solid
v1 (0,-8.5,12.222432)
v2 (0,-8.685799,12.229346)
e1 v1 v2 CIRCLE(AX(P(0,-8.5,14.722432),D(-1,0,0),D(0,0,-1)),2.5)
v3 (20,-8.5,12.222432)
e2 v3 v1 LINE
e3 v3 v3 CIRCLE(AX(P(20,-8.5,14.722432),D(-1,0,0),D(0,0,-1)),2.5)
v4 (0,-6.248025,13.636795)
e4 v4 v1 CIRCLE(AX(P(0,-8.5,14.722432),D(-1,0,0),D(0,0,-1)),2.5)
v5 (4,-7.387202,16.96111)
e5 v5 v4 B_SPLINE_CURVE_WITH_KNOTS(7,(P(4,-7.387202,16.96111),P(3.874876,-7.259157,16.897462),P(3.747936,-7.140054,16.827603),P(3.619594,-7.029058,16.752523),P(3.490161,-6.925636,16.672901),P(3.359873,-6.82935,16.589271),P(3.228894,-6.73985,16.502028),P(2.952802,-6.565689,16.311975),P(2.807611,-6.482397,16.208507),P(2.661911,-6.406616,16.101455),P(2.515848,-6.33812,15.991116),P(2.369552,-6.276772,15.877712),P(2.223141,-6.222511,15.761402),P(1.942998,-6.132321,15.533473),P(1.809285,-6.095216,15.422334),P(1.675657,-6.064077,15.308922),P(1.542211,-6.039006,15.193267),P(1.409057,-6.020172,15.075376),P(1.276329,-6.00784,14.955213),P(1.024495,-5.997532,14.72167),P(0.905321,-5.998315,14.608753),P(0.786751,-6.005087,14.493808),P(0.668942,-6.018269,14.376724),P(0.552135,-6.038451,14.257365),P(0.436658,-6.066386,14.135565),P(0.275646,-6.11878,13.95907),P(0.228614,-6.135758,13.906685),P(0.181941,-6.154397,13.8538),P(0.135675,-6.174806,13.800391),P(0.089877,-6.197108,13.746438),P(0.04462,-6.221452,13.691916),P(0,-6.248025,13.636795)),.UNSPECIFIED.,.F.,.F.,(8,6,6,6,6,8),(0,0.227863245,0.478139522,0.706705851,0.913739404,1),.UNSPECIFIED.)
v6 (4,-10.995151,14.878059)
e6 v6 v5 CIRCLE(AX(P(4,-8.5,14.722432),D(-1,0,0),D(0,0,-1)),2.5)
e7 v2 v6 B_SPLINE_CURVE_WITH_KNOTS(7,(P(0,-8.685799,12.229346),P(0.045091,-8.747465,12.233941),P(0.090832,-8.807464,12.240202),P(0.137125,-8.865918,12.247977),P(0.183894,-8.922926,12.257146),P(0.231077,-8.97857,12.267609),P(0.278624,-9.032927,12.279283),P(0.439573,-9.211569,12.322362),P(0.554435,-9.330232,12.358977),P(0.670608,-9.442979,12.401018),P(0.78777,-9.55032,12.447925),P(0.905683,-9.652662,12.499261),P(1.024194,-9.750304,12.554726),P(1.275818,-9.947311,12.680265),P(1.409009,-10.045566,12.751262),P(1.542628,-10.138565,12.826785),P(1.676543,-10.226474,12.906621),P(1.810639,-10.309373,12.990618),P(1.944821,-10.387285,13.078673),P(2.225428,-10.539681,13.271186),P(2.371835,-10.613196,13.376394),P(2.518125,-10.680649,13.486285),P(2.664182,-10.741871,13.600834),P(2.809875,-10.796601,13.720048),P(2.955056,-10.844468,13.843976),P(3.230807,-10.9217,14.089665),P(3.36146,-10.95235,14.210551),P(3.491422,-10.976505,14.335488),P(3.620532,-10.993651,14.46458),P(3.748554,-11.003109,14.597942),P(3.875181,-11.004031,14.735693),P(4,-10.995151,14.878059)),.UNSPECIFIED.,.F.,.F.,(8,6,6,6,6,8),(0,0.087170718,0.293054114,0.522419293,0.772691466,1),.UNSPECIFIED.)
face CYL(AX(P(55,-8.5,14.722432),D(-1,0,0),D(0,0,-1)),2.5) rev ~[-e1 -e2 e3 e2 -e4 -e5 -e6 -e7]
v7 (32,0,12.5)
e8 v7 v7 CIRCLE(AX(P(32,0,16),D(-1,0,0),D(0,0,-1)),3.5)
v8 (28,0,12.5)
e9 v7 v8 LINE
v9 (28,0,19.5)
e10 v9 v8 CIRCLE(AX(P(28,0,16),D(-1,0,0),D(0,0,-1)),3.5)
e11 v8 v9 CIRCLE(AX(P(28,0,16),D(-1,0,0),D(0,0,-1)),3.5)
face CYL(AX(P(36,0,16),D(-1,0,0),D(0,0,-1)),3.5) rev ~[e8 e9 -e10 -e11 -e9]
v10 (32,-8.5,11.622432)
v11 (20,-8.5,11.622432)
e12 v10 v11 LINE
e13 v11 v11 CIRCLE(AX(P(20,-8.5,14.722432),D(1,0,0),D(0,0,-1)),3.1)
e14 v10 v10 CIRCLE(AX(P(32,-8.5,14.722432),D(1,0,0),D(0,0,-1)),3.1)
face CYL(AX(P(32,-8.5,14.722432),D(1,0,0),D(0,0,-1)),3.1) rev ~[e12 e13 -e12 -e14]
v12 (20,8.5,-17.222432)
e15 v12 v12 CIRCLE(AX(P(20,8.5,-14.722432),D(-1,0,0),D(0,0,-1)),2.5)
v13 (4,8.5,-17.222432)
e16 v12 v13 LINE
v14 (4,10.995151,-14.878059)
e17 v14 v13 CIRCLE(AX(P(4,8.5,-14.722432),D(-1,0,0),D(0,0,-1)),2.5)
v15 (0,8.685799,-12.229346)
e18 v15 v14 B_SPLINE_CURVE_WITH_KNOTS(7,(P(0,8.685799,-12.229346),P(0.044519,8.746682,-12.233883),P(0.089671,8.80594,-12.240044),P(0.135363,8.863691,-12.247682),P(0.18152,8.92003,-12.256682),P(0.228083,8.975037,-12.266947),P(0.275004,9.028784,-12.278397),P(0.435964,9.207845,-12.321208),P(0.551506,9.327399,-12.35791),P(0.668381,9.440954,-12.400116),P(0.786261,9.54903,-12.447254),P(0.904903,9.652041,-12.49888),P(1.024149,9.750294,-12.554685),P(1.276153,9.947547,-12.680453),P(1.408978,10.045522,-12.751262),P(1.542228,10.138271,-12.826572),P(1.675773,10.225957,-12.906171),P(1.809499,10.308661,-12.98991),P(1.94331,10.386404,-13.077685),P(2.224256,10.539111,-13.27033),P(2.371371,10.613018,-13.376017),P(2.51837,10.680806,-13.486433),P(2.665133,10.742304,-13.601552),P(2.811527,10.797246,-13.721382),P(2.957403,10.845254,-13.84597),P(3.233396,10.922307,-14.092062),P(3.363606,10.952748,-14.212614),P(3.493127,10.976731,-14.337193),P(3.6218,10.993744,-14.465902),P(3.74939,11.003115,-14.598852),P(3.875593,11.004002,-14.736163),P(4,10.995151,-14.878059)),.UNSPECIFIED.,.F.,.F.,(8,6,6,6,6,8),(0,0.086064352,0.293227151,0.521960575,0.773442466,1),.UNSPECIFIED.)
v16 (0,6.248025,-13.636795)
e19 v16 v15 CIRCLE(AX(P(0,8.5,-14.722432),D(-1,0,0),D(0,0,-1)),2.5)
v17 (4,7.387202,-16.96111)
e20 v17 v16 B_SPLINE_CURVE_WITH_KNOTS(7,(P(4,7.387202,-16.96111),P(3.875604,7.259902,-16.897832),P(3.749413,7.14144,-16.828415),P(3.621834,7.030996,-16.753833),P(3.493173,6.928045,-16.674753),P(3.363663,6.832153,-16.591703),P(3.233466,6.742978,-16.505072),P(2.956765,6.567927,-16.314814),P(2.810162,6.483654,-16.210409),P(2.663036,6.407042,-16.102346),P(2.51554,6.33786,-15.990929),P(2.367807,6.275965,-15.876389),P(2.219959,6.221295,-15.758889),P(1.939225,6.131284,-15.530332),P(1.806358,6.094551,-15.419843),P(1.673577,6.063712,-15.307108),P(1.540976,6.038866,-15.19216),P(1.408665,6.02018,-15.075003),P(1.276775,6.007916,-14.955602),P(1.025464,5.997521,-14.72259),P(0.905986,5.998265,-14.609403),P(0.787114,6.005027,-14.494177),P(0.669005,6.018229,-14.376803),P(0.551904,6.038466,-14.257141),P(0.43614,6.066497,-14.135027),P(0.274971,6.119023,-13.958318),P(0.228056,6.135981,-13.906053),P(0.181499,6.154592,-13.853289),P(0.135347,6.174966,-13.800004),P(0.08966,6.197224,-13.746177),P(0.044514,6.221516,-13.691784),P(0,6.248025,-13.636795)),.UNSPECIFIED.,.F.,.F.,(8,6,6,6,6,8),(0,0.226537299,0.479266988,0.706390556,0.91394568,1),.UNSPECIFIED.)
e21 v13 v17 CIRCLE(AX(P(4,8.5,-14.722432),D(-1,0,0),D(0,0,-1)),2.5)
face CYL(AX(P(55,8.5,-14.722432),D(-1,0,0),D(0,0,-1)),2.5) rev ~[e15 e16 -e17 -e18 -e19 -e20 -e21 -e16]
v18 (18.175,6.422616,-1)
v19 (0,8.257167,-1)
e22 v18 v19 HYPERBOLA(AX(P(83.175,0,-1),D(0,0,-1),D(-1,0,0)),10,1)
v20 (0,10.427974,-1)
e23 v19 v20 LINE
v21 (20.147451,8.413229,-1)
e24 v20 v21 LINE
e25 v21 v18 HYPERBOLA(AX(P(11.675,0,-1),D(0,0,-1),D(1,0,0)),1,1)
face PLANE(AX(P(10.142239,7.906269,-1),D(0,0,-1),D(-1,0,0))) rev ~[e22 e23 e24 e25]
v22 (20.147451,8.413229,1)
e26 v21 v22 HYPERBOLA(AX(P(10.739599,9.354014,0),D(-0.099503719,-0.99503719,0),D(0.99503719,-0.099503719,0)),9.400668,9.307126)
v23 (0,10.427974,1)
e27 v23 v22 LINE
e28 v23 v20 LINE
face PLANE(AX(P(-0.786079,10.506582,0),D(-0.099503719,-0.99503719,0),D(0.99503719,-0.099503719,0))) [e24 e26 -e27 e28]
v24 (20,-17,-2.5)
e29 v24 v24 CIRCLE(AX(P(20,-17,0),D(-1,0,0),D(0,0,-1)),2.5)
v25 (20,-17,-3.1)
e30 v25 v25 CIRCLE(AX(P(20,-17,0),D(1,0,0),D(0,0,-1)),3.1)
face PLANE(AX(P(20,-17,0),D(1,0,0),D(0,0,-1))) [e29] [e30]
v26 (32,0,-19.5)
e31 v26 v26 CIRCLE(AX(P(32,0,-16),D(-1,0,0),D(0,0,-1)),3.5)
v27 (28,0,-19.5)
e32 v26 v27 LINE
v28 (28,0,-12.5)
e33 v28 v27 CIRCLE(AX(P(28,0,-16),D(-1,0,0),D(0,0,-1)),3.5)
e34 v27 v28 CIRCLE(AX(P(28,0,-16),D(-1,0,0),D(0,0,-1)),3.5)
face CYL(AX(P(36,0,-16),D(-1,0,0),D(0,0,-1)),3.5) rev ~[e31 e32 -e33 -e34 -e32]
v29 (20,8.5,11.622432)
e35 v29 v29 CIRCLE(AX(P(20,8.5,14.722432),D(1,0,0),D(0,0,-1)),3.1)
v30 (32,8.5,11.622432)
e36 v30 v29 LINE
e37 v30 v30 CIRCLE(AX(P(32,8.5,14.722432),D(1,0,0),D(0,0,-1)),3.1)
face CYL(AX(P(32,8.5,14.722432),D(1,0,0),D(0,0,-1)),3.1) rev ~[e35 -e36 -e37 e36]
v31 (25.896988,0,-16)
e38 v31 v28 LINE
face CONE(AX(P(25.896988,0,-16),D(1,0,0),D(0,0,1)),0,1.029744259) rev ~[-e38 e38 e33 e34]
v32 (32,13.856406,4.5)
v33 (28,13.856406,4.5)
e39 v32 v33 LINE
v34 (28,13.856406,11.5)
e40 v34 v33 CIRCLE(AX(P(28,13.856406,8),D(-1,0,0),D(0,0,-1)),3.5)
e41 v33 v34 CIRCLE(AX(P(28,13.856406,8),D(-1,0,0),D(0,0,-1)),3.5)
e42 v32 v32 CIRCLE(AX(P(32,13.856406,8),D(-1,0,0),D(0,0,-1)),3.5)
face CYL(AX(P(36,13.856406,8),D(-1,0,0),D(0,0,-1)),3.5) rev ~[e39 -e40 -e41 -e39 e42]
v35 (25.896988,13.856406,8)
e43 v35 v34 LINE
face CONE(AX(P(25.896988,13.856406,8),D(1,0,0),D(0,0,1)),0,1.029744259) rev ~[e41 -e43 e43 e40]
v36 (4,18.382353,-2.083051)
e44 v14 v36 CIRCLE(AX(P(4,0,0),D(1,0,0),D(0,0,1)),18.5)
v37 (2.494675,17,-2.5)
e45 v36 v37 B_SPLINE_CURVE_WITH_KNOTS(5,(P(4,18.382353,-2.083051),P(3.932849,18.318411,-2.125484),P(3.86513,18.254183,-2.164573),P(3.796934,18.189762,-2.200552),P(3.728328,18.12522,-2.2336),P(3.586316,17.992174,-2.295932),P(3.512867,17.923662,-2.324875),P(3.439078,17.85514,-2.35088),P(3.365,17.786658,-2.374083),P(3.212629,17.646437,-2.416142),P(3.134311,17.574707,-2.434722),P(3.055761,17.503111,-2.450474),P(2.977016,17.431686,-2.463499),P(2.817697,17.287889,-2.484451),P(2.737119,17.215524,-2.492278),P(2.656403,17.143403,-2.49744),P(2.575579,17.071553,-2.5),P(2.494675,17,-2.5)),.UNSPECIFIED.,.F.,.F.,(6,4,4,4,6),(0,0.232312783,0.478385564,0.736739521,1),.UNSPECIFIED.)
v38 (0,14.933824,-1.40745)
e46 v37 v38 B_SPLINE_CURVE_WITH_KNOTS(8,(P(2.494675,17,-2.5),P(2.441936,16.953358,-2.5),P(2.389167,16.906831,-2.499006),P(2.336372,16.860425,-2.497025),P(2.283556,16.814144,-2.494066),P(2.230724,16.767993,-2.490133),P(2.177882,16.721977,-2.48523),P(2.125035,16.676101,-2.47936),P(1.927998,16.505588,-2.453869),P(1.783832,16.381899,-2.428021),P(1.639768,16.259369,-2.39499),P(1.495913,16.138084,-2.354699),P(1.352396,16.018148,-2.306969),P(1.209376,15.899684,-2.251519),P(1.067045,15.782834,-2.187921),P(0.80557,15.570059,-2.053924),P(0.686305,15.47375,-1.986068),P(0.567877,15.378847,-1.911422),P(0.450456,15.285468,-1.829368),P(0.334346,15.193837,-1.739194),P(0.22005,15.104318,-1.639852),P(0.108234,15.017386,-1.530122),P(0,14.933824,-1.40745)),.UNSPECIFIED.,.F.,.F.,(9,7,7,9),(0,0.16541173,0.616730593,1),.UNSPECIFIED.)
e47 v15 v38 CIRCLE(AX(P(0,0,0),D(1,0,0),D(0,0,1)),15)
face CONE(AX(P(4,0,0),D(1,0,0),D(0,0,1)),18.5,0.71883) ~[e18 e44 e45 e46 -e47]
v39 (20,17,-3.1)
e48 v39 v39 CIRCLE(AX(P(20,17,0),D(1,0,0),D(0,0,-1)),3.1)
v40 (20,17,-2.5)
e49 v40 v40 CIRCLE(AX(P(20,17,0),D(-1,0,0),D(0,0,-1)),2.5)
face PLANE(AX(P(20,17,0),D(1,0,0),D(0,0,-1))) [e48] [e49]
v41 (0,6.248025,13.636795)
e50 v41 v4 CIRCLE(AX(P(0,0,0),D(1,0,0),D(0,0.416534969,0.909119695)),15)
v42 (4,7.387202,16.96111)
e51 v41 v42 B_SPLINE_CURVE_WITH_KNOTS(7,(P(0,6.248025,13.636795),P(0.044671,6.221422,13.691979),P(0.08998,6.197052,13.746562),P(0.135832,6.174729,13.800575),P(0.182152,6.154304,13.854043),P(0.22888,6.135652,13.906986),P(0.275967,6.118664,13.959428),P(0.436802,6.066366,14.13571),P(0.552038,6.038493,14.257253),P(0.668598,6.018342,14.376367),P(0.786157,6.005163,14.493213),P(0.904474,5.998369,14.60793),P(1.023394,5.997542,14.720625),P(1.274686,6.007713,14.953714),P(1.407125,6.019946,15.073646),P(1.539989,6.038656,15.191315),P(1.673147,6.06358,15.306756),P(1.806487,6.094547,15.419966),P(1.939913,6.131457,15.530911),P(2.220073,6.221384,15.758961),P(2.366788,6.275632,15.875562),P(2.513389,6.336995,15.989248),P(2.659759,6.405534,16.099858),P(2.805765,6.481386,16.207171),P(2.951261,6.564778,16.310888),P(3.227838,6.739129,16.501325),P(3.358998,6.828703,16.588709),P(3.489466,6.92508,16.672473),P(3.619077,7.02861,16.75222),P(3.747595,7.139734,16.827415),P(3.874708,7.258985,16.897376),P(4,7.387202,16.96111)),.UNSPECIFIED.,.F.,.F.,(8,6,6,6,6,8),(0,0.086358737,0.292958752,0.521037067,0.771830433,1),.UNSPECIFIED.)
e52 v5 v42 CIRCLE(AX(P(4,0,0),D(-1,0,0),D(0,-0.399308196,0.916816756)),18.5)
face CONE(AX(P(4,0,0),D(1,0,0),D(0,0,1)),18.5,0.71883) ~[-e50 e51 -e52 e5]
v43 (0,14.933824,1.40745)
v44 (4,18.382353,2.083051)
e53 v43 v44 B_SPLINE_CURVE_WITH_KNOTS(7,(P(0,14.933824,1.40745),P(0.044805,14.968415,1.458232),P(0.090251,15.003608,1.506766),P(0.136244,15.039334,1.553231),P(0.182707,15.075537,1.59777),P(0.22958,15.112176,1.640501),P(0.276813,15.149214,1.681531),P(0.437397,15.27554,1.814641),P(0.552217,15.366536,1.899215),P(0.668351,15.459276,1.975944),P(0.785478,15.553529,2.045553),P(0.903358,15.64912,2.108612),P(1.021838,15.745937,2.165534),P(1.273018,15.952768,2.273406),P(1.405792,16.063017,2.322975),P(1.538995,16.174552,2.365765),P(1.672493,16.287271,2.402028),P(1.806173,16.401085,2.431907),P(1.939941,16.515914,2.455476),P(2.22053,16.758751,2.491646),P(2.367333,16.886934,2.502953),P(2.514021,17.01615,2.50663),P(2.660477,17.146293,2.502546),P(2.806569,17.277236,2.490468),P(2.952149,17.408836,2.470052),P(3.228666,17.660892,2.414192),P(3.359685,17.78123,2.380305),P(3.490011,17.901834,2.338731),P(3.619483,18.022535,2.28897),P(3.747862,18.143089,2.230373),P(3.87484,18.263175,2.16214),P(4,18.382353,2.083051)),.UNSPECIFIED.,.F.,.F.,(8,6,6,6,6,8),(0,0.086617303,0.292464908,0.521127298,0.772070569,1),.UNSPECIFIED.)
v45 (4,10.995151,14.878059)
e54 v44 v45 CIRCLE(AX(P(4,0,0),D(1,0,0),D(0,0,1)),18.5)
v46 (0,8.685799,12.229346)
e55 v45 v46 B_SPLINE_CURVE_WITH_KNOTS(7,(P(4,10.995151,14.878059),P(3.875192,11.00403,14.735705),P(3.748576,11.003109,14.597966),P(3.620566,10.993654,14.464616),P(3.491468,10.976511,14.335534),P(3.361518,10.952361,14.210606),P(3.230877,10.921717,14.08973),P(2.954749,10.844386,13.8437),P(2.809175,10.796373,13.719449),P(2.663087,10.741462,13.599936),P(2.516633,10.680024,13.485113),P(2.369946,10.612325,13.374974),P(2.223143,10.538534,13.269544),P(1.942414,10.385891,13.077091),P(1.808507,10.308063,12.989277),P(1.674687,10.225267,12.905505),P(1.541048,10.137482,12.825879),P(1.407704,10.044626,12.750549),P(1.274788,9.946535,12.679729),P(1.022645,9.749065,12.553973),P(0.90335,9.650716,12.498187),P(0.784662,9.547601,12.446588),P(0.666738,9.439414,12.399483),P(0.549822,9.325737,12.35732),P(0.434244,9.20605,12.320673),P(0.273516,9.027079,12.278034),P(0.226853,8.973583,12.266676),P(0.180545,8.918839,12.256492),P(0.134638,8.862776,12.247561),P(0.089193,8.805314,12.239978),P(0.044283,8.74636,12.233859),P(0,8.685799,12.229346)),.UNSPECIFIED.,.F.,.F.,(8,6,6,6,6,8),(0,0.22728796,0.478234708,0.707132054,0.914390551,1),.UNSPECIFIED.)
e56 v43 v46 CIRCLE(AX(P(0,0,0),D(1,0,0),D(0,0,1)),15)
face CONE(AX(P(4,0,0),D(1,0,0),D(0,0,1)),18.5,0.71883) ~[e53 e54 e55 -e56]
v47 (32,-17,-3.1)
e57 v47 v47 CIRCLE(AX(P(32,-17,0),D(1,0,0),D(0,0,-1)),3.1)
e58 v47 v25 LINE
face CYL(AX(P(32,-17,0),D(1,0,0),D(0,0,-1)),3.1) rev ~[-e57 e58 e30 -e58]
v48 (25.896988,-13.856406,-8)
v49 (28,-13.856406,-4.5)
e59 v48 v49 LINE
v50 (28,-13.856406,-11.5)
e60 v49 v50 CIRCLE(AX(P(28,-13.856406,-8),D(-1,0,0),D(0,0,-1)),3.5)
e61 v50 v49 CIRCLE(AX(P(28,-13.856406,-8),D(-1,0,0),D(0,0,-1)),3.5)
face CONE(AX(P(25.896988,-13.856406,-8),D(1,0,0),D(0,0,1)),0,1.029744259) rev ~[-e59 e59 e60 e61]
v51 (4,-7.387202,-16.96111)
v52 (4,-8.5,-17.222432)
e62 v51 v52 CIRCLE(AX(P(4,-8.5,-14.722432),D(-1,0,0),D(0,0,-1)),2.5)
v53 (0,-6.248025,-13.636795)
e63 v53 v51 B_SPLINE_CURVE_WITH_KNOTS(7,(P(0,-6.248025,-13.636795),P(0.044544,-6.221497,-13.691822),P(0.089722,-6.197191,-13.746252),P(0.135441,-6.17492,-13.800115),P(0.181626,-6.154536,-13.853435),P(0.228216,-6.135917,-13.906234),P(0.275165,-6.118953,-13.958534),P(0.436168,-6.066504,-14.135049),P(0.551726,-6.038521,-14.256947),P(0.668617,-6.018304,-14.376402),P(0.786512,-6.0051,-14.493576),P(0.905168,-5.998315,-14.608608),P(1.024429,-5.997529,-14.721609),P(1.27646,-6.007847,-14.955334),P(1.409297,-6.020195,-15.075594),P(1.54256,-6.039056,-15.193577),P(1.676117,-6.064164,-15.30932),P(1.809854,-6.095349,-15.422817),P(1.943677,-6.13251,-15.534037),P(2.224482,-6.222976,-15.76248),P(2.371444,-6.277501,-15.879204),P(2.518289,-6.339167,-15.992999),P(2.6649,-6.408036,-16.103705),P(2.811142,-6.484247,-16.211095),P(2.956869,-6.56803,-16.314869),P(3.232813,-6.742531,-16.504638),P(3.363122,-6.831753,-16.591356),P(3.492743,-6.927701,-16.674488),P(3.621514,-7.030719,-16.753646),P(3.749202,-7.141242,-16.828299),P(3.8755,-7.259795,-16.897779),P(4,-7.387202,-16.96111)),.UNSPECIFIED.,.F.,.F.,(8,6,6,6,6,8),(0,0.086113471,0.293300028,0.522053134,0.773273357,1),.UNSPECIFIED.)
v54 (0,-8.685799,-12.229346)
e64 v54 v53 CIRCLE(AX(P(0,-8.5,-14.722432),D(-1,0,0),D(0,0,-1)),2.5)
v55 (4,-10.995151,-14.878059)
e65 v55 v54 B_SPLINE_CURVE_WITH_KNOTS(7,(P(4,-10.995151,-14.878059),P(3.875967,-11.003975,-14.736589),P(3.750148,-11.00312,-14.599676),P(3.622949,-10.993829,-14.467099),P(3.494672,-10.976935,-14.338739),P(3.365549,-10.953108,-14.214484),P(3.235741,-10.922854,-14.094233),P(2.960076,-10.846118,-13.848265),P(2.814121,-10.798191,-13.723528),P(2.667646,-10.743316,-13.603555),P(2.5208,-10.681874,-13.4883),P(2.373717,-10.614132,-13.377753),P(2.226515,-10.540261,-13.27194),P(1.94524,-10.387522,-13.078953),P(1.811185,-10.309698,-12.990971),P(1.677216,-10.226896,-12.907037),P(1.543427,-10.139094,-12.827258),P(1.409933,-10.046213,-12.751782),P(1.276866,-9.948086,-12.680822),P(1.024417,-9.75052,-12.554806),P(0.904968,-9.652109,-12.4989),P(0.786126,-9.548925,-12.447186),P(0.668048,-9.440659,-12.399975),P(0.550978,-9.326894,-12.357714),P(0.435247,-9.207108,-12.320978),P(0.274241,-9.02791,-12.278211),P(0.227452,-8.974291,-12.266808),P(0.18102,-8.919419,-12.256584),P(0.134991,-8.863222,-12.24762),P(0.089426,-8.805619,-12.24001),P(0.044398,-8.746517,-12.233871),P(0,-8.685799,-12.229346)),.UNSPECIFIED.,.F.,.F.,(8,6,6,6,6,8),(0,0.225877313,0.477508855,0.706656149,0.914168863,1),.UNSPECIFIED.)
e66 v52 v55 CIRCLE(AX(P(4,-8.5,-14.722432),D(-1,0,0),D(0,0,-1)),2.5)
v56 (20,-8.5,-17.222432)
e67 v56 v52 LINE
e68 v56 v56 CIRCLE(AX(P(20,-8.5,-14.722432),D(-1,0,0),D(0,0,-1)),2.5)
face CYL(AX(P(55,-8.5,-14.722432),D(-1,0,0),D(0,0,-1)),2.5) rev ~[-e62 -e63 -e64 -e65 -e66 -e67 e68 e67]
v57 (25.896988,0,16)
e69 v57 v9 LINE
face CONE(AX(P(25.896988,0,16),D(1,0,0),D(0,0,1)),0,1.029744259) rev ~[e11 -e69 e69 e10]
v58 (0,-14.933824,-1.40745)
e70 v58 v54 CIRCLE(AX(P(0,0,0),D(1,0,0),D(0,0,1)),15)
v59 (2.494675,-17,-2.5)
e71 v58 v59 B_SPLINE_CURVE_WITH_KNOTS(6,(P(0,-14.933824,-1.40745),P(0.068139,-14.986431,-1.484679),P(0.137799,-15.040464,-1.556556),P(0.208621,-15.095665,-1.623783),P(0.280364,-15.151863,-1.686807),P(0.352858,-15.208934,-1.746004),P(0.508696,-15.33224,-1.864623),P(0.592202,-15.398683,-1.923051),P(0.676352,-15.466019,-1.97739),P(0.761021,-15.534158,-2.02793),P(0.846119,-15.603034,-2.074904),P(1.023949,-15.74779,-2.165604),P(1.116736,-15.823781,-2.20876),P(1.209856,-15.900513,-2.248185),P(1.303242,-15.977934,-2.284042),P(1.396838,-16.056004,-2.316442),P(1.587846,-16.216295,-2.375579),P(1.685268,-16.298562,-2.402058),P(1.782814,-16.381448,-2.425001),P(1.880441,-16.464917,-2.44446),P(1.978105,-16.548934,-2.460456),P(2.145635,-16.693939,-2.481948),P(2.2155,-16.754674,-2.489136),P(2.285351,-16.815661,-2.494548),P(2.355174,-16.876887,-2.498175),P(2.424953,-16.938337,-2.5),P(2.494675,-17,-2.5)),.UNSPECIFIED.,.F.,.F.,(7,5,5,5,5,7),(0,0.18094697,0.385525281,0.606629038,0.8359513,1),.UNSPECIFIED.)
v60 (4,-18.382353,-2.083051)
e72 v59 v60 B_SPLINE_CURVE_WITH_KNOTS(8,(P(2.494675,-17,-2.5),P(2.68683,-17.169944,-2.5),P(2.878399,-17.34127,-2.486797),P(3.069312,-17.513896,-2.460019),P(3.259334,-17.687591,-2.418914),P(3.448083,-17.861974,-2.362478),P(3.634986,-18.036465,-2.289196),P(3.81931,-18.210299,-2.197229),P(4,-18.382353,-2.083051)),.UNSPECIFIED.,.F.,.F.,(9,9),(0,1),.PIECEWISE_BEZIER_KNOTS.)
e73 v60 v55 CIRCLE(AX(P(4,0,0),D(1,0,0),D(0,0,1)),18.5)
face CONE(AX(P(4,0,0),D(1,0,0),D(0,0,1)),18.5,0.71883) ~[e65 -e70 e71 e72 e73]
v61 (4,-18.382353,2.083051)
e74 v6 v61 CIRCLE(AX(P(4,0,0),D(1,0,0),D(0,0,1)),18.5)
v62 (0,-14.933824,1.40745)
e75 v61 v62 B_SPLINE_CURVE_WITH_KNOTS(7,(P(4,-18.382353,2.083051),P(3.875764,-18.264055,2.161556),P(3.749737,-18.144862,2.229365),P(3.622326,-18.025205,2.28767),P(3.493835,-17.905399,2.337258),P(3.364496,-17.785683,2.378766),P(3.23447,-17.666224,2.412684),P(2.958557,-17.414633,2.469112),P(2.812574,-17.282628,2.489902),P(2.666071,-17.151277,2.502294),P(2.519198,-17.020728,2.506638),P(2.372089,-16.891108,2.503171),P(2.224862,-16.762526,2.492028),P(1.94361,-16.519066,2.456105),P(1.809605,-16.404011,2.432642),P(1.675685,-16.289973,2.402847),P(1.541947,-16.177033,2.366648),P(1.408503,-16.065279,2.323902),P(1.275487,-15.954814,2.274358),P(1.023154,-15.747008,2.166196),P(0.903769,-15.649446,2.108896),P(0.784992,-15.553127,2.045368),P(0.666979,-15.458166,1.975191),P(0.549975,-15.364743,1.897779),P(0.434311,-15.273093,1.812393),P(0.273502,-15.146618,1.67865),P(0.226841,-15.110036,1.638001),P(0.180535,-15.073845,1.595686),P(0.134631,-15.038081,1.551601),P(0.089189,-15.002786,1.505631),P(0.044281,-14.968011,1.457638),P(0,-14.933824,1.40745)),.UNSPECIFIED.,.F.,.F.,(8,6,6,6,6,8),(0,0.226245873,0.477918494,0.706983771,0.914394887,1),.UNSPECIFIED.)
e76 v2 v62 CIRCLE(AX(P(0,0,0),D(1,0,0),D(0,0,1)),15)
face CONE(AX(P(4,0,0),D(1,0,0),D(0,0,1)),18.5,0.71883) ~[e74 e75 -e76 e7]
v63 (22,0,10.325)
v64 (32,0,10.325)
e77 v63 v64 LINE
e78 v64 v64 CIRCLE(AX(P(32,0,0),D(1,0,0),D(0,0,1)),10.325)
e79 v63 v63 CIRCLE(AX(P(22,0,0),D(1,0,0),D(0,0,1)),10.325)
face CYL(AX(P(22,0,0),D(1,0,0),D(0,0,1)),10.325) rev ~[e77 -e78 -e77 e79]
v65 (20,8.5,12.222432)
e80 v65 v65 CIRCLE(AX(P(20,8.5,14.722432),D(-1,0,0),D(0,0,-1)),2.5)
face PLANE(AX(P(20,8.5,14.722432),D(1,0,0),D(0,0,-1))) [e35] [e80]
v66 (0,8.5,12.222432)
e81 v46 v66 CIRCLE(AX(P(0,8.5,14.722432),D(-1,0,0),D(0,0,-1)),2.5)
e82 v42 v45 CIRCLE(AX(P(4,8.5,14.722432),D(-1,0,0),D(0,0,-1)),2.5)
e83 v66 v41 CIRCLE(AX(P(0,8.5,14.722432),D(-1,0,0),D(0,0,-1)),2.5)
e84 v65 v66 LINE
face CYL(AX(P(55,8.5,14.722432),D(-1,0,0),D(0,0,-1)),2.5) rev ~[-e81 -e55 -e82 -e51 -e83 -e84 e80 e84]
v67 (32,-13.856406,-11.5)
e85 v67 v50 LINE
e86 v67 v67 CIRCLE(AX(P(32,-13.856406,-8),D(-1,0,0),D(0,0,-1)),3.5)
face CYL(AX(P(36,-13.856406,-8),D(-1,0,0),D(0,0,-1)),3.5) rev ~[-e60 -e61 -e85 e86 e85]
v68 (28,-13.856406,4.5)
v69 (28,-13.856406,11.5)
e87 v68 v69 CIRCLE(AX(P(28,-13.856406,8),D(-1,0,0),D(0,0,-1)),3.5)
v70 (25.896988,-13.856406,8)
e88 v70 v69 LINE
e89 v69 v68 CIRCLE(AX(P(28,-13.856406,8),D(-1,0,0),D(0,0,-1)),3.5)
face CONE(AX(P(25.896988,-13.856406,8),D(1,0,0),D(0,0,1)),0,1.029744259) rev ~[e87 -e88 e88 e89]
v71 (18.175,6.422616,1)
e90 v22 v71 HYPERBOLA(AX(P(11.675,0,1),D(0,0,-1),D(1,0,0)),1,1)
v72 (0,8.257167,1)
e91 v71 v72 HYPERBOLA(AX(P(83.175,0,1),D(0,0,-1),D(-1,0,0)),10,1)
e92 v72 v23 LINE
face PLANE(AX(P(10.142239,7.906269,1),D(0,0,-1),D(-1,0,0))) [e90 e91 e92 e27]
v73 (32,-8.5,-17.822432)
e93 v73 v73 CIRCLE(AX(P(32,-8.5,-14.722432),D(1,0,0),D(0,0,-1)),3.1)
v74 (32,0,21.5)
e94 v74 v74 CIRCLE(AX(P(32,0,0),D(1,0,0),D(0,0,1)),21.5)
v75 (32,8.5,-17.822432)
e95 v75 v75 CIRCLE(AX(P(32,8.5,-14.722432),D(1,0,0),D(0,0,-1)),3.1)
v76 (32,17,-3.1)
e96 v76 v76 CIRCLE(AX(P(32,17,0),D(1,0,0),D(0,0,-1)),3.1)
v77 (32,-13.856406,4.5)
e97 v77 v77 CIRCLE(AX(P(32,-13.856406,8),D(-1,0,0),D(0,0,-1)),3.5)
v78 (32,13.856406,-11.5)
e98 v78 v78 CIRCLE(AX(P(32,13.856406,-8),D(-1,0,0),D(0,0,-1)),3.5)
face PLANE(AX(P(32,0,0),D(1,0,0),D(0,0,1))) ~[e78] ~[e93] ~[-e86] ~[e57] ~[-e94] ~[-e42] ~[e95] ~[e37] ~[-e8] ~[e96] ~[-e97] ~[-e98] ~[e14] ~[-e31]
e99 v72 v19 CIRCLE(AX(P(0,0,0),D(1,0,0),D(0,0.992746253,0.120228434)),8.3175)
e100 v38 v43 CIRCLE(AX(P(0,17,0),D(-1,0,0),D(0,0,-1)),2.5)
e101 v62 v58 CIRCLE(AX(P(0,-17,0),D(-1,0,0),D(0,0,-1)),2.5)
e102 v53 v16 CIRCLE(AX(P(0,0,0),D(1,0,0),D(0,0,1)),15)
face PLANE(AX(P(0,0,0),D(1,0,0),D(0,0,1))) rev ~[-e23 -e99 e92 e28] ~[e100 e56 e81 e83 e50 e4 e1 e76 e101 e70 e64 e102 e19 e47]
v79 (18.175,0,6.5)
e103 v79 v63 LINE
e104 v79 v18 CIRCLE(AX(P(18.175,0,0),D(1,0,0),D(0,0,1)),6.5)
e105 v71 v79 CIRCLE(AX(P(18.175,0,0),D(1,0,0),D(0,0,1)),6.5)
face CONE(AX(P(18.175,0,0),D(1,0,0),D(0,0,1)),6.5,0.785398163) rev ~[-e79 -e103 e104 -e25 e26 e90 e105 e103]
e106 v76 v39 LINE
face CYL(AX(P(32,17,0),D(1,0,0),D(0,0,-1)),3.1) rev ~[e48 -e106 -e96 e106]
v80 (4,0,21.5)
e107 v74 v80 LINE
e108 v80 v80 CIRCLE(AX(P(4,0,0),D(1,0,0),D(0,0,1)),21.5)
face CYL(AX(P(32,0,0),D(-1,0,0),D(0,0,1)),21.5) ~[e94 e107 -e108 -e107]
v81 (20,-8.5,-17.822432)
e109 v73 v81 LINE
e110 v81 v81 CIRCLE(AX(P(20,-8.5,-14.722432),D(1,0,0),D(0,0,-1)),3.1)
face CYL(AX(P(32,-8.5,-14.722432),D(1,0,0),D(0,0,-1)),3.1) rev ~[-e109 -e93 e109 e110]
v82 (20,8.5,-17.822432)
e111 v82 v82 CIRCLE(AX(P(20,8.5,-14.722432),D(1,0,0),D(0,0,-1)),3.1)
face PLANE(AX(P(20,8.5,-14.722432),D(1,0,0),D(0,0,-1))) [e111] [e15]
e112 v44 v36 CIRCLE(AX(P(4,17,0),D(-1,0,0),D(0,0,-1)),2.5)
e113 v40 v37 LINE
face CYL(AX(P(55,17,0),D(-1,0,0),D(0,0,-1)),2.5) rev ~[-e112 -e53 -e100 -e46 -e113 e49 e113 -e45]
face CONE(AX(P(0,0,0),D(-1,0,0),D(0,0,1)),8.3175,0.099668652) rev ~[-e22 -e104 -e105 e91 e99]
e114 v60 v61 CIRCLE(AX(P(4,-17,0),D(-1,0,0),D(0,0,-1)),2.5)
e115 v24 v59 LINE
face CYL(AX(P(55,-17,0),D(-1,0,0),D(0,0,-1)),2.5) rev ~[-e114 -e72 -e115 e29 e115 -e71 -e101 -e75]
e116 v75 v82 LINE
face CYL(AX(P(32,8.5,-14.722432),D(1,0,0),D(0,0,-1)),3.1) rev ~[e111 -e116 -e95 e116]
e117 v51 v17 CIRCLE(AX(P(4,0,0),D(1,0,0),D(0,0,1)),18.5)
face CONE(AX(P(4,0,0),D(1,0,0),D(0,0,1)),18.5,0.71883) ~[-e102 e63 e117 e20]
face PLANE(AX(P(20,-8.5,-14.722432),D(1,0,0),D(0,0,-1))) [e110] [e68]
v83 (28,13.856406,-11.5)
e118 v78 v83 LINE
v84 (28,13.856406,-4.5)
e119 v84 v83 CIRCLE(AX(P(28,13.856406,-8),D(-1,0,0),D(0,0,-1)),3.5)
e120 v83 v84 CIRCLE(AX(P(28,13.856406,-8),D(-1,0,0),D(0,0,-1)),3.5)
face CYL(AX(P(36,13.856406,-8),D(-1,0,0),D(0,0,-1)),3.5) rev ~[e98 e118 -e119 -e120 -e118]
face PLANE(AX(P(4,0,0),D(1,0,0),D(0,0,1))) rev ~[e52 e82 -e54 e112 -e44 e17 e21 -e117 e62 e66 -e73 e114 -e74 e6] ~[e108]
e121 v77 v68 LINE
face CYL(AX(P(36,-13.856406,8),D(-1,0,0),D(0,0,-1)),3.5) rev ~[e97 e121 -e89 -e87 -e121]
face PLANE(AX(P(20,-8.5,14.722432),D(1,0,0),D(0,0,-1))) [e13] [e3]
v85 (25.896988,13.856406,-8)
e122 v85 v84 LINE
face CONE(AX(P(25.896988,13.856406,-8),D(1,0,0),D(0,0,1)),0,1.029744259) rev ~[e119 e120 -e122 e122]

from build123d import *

# Parameters (mm, degrees)
SKETCH11_R                   = 3.1
EXTRUDE1_DEPTH               = 12
M6_TAPPED_HOLE1_D            = 5
M6_TAPPED_HOLE1_DEPTH        = 35
M6_TAPPED_HOLE1_TIP          = 1.502151548
F_7_0_7_DIAMETER_HOLE1_D     = 7
F_7_0_7_DIAMETER_HOLE1_DEPTH = 4
F_7_0_7_DIAMETER_HOLE1_TIP   = 2.103012167
EXTRUDE3_DEPTH               = 1


with BuildPart() as part:
    # Sketch1 → Revolve1 (revolve)
    with BuildSketch(Plane.XY, mode=Mode.PRIVATE) as revolve1_sk:
        Polygon((4, 18.5), (0, 15), (0, 8.3175), (18.175, 6.5), (22, 10.325), (32, 10.325), (32, 21.5), (4, 21.5), align=None)
    revolve(revolve1_sk.sketch.rotate(Axis((0, 0, 0), (1, 0, 0)), 90), axis=Axis((0, 0, 0), (1, 0, 0)))

    # Sketch11 → Extrude1 (cut)
    with BuildSketch(Plane(origin=(32, 0, 0), x_dir=(0, 0, -1), z_dir=(1, 0, 0))):
        with Locations((0, -17)):
            Circle(SKETCH11_R)
        with Locations((-14.722431864, -8.5)):
            Circle(SKETCH11_R)
        with Locations((-14.722431864, 8.5)):
            Circle(SKETCH11_R)
        with Locations((0, 17)):
            Circle(SKETCH11_R)
        with Locations((14.722431864, 8.5)):
            Circle(SKETCH11_R)
        with Locations((14.722431864, -8.5)):
            Circle(SKETCH11_R)
    extrude(amount=-EXTRUDE1_DEPTH, mode=Mode.SUBTRACT)

    # M6 Tapped Hole1
    with Locations(Plane(origin=(20, -17, 0), x_dir=(0, 0, 1), z_dir=(1, 0, 0))):
        with Locations((0, 0), (14.722431864, -8.5), (14.722431864, -25.5), (0, -34), (-14.722431864, -25.5), (-14.722431864, -8.5)):
            Hole(M6_TAPPED_HOLE1_D / 2, depth=M6_TAPPED_HOLE1_DEPTH)
            with Locations((0, 0, -(M6_TAPPED_HOLE1_DEPTH + M6_TAPPED_HOLE1_TIP / 2))):  # 118° drill point
                Cone(0, M6_TAPPED_HOLE1_D / 2, M6_TAPPED_HOLE1_TIP, mode=Mode.SUBTRACT)

    # Ø7.0 (7) Diameter Hole1
    with Locations(Plane(origin=(32, -13.856406461, -8), x_dir=(0, 0, 1), z_dir=(1, 0, 0))):
        with Locations((0, 0), (16, 0), (24, -13.856406461), (16, -27.712812922), (0, -27.712812922), (-8, -13.856406461)):
            Hole(F_7_0_7_DIAMETER_HOLE1_D / 2, depth=F_7_0_7_DIAMETER_HOLE1_DEPTH)
            with Locations((0, 0, -(F_7_0_7_DIAMETER_HOLE1_DEPTH + F_7_0_7_DIAMETER_HOLE1_TIP / 2))):  # 118° drill point
                Cone(0, F_7_0_7_DIAMETER_HOLE1_D / 2, F_7_0_7_DIAMETER_HOLE1_TIP, mode=Mode.SUBTRACT)

    # Sketch18 → Extrude3 (cut, symmetric)
    with BuildSketch(Plane.XY):
        Polygon((21.070558224, 5.305955372), (-1.084590537, 7.521470248), (-0.78607938, 10.506581818), (21.369069381, 8.291066942), align=None)
    extrude(amount=EXTRUDE3_DEPTH, both=True, mode=Mode.SUBTRACT)


solid = part.part
